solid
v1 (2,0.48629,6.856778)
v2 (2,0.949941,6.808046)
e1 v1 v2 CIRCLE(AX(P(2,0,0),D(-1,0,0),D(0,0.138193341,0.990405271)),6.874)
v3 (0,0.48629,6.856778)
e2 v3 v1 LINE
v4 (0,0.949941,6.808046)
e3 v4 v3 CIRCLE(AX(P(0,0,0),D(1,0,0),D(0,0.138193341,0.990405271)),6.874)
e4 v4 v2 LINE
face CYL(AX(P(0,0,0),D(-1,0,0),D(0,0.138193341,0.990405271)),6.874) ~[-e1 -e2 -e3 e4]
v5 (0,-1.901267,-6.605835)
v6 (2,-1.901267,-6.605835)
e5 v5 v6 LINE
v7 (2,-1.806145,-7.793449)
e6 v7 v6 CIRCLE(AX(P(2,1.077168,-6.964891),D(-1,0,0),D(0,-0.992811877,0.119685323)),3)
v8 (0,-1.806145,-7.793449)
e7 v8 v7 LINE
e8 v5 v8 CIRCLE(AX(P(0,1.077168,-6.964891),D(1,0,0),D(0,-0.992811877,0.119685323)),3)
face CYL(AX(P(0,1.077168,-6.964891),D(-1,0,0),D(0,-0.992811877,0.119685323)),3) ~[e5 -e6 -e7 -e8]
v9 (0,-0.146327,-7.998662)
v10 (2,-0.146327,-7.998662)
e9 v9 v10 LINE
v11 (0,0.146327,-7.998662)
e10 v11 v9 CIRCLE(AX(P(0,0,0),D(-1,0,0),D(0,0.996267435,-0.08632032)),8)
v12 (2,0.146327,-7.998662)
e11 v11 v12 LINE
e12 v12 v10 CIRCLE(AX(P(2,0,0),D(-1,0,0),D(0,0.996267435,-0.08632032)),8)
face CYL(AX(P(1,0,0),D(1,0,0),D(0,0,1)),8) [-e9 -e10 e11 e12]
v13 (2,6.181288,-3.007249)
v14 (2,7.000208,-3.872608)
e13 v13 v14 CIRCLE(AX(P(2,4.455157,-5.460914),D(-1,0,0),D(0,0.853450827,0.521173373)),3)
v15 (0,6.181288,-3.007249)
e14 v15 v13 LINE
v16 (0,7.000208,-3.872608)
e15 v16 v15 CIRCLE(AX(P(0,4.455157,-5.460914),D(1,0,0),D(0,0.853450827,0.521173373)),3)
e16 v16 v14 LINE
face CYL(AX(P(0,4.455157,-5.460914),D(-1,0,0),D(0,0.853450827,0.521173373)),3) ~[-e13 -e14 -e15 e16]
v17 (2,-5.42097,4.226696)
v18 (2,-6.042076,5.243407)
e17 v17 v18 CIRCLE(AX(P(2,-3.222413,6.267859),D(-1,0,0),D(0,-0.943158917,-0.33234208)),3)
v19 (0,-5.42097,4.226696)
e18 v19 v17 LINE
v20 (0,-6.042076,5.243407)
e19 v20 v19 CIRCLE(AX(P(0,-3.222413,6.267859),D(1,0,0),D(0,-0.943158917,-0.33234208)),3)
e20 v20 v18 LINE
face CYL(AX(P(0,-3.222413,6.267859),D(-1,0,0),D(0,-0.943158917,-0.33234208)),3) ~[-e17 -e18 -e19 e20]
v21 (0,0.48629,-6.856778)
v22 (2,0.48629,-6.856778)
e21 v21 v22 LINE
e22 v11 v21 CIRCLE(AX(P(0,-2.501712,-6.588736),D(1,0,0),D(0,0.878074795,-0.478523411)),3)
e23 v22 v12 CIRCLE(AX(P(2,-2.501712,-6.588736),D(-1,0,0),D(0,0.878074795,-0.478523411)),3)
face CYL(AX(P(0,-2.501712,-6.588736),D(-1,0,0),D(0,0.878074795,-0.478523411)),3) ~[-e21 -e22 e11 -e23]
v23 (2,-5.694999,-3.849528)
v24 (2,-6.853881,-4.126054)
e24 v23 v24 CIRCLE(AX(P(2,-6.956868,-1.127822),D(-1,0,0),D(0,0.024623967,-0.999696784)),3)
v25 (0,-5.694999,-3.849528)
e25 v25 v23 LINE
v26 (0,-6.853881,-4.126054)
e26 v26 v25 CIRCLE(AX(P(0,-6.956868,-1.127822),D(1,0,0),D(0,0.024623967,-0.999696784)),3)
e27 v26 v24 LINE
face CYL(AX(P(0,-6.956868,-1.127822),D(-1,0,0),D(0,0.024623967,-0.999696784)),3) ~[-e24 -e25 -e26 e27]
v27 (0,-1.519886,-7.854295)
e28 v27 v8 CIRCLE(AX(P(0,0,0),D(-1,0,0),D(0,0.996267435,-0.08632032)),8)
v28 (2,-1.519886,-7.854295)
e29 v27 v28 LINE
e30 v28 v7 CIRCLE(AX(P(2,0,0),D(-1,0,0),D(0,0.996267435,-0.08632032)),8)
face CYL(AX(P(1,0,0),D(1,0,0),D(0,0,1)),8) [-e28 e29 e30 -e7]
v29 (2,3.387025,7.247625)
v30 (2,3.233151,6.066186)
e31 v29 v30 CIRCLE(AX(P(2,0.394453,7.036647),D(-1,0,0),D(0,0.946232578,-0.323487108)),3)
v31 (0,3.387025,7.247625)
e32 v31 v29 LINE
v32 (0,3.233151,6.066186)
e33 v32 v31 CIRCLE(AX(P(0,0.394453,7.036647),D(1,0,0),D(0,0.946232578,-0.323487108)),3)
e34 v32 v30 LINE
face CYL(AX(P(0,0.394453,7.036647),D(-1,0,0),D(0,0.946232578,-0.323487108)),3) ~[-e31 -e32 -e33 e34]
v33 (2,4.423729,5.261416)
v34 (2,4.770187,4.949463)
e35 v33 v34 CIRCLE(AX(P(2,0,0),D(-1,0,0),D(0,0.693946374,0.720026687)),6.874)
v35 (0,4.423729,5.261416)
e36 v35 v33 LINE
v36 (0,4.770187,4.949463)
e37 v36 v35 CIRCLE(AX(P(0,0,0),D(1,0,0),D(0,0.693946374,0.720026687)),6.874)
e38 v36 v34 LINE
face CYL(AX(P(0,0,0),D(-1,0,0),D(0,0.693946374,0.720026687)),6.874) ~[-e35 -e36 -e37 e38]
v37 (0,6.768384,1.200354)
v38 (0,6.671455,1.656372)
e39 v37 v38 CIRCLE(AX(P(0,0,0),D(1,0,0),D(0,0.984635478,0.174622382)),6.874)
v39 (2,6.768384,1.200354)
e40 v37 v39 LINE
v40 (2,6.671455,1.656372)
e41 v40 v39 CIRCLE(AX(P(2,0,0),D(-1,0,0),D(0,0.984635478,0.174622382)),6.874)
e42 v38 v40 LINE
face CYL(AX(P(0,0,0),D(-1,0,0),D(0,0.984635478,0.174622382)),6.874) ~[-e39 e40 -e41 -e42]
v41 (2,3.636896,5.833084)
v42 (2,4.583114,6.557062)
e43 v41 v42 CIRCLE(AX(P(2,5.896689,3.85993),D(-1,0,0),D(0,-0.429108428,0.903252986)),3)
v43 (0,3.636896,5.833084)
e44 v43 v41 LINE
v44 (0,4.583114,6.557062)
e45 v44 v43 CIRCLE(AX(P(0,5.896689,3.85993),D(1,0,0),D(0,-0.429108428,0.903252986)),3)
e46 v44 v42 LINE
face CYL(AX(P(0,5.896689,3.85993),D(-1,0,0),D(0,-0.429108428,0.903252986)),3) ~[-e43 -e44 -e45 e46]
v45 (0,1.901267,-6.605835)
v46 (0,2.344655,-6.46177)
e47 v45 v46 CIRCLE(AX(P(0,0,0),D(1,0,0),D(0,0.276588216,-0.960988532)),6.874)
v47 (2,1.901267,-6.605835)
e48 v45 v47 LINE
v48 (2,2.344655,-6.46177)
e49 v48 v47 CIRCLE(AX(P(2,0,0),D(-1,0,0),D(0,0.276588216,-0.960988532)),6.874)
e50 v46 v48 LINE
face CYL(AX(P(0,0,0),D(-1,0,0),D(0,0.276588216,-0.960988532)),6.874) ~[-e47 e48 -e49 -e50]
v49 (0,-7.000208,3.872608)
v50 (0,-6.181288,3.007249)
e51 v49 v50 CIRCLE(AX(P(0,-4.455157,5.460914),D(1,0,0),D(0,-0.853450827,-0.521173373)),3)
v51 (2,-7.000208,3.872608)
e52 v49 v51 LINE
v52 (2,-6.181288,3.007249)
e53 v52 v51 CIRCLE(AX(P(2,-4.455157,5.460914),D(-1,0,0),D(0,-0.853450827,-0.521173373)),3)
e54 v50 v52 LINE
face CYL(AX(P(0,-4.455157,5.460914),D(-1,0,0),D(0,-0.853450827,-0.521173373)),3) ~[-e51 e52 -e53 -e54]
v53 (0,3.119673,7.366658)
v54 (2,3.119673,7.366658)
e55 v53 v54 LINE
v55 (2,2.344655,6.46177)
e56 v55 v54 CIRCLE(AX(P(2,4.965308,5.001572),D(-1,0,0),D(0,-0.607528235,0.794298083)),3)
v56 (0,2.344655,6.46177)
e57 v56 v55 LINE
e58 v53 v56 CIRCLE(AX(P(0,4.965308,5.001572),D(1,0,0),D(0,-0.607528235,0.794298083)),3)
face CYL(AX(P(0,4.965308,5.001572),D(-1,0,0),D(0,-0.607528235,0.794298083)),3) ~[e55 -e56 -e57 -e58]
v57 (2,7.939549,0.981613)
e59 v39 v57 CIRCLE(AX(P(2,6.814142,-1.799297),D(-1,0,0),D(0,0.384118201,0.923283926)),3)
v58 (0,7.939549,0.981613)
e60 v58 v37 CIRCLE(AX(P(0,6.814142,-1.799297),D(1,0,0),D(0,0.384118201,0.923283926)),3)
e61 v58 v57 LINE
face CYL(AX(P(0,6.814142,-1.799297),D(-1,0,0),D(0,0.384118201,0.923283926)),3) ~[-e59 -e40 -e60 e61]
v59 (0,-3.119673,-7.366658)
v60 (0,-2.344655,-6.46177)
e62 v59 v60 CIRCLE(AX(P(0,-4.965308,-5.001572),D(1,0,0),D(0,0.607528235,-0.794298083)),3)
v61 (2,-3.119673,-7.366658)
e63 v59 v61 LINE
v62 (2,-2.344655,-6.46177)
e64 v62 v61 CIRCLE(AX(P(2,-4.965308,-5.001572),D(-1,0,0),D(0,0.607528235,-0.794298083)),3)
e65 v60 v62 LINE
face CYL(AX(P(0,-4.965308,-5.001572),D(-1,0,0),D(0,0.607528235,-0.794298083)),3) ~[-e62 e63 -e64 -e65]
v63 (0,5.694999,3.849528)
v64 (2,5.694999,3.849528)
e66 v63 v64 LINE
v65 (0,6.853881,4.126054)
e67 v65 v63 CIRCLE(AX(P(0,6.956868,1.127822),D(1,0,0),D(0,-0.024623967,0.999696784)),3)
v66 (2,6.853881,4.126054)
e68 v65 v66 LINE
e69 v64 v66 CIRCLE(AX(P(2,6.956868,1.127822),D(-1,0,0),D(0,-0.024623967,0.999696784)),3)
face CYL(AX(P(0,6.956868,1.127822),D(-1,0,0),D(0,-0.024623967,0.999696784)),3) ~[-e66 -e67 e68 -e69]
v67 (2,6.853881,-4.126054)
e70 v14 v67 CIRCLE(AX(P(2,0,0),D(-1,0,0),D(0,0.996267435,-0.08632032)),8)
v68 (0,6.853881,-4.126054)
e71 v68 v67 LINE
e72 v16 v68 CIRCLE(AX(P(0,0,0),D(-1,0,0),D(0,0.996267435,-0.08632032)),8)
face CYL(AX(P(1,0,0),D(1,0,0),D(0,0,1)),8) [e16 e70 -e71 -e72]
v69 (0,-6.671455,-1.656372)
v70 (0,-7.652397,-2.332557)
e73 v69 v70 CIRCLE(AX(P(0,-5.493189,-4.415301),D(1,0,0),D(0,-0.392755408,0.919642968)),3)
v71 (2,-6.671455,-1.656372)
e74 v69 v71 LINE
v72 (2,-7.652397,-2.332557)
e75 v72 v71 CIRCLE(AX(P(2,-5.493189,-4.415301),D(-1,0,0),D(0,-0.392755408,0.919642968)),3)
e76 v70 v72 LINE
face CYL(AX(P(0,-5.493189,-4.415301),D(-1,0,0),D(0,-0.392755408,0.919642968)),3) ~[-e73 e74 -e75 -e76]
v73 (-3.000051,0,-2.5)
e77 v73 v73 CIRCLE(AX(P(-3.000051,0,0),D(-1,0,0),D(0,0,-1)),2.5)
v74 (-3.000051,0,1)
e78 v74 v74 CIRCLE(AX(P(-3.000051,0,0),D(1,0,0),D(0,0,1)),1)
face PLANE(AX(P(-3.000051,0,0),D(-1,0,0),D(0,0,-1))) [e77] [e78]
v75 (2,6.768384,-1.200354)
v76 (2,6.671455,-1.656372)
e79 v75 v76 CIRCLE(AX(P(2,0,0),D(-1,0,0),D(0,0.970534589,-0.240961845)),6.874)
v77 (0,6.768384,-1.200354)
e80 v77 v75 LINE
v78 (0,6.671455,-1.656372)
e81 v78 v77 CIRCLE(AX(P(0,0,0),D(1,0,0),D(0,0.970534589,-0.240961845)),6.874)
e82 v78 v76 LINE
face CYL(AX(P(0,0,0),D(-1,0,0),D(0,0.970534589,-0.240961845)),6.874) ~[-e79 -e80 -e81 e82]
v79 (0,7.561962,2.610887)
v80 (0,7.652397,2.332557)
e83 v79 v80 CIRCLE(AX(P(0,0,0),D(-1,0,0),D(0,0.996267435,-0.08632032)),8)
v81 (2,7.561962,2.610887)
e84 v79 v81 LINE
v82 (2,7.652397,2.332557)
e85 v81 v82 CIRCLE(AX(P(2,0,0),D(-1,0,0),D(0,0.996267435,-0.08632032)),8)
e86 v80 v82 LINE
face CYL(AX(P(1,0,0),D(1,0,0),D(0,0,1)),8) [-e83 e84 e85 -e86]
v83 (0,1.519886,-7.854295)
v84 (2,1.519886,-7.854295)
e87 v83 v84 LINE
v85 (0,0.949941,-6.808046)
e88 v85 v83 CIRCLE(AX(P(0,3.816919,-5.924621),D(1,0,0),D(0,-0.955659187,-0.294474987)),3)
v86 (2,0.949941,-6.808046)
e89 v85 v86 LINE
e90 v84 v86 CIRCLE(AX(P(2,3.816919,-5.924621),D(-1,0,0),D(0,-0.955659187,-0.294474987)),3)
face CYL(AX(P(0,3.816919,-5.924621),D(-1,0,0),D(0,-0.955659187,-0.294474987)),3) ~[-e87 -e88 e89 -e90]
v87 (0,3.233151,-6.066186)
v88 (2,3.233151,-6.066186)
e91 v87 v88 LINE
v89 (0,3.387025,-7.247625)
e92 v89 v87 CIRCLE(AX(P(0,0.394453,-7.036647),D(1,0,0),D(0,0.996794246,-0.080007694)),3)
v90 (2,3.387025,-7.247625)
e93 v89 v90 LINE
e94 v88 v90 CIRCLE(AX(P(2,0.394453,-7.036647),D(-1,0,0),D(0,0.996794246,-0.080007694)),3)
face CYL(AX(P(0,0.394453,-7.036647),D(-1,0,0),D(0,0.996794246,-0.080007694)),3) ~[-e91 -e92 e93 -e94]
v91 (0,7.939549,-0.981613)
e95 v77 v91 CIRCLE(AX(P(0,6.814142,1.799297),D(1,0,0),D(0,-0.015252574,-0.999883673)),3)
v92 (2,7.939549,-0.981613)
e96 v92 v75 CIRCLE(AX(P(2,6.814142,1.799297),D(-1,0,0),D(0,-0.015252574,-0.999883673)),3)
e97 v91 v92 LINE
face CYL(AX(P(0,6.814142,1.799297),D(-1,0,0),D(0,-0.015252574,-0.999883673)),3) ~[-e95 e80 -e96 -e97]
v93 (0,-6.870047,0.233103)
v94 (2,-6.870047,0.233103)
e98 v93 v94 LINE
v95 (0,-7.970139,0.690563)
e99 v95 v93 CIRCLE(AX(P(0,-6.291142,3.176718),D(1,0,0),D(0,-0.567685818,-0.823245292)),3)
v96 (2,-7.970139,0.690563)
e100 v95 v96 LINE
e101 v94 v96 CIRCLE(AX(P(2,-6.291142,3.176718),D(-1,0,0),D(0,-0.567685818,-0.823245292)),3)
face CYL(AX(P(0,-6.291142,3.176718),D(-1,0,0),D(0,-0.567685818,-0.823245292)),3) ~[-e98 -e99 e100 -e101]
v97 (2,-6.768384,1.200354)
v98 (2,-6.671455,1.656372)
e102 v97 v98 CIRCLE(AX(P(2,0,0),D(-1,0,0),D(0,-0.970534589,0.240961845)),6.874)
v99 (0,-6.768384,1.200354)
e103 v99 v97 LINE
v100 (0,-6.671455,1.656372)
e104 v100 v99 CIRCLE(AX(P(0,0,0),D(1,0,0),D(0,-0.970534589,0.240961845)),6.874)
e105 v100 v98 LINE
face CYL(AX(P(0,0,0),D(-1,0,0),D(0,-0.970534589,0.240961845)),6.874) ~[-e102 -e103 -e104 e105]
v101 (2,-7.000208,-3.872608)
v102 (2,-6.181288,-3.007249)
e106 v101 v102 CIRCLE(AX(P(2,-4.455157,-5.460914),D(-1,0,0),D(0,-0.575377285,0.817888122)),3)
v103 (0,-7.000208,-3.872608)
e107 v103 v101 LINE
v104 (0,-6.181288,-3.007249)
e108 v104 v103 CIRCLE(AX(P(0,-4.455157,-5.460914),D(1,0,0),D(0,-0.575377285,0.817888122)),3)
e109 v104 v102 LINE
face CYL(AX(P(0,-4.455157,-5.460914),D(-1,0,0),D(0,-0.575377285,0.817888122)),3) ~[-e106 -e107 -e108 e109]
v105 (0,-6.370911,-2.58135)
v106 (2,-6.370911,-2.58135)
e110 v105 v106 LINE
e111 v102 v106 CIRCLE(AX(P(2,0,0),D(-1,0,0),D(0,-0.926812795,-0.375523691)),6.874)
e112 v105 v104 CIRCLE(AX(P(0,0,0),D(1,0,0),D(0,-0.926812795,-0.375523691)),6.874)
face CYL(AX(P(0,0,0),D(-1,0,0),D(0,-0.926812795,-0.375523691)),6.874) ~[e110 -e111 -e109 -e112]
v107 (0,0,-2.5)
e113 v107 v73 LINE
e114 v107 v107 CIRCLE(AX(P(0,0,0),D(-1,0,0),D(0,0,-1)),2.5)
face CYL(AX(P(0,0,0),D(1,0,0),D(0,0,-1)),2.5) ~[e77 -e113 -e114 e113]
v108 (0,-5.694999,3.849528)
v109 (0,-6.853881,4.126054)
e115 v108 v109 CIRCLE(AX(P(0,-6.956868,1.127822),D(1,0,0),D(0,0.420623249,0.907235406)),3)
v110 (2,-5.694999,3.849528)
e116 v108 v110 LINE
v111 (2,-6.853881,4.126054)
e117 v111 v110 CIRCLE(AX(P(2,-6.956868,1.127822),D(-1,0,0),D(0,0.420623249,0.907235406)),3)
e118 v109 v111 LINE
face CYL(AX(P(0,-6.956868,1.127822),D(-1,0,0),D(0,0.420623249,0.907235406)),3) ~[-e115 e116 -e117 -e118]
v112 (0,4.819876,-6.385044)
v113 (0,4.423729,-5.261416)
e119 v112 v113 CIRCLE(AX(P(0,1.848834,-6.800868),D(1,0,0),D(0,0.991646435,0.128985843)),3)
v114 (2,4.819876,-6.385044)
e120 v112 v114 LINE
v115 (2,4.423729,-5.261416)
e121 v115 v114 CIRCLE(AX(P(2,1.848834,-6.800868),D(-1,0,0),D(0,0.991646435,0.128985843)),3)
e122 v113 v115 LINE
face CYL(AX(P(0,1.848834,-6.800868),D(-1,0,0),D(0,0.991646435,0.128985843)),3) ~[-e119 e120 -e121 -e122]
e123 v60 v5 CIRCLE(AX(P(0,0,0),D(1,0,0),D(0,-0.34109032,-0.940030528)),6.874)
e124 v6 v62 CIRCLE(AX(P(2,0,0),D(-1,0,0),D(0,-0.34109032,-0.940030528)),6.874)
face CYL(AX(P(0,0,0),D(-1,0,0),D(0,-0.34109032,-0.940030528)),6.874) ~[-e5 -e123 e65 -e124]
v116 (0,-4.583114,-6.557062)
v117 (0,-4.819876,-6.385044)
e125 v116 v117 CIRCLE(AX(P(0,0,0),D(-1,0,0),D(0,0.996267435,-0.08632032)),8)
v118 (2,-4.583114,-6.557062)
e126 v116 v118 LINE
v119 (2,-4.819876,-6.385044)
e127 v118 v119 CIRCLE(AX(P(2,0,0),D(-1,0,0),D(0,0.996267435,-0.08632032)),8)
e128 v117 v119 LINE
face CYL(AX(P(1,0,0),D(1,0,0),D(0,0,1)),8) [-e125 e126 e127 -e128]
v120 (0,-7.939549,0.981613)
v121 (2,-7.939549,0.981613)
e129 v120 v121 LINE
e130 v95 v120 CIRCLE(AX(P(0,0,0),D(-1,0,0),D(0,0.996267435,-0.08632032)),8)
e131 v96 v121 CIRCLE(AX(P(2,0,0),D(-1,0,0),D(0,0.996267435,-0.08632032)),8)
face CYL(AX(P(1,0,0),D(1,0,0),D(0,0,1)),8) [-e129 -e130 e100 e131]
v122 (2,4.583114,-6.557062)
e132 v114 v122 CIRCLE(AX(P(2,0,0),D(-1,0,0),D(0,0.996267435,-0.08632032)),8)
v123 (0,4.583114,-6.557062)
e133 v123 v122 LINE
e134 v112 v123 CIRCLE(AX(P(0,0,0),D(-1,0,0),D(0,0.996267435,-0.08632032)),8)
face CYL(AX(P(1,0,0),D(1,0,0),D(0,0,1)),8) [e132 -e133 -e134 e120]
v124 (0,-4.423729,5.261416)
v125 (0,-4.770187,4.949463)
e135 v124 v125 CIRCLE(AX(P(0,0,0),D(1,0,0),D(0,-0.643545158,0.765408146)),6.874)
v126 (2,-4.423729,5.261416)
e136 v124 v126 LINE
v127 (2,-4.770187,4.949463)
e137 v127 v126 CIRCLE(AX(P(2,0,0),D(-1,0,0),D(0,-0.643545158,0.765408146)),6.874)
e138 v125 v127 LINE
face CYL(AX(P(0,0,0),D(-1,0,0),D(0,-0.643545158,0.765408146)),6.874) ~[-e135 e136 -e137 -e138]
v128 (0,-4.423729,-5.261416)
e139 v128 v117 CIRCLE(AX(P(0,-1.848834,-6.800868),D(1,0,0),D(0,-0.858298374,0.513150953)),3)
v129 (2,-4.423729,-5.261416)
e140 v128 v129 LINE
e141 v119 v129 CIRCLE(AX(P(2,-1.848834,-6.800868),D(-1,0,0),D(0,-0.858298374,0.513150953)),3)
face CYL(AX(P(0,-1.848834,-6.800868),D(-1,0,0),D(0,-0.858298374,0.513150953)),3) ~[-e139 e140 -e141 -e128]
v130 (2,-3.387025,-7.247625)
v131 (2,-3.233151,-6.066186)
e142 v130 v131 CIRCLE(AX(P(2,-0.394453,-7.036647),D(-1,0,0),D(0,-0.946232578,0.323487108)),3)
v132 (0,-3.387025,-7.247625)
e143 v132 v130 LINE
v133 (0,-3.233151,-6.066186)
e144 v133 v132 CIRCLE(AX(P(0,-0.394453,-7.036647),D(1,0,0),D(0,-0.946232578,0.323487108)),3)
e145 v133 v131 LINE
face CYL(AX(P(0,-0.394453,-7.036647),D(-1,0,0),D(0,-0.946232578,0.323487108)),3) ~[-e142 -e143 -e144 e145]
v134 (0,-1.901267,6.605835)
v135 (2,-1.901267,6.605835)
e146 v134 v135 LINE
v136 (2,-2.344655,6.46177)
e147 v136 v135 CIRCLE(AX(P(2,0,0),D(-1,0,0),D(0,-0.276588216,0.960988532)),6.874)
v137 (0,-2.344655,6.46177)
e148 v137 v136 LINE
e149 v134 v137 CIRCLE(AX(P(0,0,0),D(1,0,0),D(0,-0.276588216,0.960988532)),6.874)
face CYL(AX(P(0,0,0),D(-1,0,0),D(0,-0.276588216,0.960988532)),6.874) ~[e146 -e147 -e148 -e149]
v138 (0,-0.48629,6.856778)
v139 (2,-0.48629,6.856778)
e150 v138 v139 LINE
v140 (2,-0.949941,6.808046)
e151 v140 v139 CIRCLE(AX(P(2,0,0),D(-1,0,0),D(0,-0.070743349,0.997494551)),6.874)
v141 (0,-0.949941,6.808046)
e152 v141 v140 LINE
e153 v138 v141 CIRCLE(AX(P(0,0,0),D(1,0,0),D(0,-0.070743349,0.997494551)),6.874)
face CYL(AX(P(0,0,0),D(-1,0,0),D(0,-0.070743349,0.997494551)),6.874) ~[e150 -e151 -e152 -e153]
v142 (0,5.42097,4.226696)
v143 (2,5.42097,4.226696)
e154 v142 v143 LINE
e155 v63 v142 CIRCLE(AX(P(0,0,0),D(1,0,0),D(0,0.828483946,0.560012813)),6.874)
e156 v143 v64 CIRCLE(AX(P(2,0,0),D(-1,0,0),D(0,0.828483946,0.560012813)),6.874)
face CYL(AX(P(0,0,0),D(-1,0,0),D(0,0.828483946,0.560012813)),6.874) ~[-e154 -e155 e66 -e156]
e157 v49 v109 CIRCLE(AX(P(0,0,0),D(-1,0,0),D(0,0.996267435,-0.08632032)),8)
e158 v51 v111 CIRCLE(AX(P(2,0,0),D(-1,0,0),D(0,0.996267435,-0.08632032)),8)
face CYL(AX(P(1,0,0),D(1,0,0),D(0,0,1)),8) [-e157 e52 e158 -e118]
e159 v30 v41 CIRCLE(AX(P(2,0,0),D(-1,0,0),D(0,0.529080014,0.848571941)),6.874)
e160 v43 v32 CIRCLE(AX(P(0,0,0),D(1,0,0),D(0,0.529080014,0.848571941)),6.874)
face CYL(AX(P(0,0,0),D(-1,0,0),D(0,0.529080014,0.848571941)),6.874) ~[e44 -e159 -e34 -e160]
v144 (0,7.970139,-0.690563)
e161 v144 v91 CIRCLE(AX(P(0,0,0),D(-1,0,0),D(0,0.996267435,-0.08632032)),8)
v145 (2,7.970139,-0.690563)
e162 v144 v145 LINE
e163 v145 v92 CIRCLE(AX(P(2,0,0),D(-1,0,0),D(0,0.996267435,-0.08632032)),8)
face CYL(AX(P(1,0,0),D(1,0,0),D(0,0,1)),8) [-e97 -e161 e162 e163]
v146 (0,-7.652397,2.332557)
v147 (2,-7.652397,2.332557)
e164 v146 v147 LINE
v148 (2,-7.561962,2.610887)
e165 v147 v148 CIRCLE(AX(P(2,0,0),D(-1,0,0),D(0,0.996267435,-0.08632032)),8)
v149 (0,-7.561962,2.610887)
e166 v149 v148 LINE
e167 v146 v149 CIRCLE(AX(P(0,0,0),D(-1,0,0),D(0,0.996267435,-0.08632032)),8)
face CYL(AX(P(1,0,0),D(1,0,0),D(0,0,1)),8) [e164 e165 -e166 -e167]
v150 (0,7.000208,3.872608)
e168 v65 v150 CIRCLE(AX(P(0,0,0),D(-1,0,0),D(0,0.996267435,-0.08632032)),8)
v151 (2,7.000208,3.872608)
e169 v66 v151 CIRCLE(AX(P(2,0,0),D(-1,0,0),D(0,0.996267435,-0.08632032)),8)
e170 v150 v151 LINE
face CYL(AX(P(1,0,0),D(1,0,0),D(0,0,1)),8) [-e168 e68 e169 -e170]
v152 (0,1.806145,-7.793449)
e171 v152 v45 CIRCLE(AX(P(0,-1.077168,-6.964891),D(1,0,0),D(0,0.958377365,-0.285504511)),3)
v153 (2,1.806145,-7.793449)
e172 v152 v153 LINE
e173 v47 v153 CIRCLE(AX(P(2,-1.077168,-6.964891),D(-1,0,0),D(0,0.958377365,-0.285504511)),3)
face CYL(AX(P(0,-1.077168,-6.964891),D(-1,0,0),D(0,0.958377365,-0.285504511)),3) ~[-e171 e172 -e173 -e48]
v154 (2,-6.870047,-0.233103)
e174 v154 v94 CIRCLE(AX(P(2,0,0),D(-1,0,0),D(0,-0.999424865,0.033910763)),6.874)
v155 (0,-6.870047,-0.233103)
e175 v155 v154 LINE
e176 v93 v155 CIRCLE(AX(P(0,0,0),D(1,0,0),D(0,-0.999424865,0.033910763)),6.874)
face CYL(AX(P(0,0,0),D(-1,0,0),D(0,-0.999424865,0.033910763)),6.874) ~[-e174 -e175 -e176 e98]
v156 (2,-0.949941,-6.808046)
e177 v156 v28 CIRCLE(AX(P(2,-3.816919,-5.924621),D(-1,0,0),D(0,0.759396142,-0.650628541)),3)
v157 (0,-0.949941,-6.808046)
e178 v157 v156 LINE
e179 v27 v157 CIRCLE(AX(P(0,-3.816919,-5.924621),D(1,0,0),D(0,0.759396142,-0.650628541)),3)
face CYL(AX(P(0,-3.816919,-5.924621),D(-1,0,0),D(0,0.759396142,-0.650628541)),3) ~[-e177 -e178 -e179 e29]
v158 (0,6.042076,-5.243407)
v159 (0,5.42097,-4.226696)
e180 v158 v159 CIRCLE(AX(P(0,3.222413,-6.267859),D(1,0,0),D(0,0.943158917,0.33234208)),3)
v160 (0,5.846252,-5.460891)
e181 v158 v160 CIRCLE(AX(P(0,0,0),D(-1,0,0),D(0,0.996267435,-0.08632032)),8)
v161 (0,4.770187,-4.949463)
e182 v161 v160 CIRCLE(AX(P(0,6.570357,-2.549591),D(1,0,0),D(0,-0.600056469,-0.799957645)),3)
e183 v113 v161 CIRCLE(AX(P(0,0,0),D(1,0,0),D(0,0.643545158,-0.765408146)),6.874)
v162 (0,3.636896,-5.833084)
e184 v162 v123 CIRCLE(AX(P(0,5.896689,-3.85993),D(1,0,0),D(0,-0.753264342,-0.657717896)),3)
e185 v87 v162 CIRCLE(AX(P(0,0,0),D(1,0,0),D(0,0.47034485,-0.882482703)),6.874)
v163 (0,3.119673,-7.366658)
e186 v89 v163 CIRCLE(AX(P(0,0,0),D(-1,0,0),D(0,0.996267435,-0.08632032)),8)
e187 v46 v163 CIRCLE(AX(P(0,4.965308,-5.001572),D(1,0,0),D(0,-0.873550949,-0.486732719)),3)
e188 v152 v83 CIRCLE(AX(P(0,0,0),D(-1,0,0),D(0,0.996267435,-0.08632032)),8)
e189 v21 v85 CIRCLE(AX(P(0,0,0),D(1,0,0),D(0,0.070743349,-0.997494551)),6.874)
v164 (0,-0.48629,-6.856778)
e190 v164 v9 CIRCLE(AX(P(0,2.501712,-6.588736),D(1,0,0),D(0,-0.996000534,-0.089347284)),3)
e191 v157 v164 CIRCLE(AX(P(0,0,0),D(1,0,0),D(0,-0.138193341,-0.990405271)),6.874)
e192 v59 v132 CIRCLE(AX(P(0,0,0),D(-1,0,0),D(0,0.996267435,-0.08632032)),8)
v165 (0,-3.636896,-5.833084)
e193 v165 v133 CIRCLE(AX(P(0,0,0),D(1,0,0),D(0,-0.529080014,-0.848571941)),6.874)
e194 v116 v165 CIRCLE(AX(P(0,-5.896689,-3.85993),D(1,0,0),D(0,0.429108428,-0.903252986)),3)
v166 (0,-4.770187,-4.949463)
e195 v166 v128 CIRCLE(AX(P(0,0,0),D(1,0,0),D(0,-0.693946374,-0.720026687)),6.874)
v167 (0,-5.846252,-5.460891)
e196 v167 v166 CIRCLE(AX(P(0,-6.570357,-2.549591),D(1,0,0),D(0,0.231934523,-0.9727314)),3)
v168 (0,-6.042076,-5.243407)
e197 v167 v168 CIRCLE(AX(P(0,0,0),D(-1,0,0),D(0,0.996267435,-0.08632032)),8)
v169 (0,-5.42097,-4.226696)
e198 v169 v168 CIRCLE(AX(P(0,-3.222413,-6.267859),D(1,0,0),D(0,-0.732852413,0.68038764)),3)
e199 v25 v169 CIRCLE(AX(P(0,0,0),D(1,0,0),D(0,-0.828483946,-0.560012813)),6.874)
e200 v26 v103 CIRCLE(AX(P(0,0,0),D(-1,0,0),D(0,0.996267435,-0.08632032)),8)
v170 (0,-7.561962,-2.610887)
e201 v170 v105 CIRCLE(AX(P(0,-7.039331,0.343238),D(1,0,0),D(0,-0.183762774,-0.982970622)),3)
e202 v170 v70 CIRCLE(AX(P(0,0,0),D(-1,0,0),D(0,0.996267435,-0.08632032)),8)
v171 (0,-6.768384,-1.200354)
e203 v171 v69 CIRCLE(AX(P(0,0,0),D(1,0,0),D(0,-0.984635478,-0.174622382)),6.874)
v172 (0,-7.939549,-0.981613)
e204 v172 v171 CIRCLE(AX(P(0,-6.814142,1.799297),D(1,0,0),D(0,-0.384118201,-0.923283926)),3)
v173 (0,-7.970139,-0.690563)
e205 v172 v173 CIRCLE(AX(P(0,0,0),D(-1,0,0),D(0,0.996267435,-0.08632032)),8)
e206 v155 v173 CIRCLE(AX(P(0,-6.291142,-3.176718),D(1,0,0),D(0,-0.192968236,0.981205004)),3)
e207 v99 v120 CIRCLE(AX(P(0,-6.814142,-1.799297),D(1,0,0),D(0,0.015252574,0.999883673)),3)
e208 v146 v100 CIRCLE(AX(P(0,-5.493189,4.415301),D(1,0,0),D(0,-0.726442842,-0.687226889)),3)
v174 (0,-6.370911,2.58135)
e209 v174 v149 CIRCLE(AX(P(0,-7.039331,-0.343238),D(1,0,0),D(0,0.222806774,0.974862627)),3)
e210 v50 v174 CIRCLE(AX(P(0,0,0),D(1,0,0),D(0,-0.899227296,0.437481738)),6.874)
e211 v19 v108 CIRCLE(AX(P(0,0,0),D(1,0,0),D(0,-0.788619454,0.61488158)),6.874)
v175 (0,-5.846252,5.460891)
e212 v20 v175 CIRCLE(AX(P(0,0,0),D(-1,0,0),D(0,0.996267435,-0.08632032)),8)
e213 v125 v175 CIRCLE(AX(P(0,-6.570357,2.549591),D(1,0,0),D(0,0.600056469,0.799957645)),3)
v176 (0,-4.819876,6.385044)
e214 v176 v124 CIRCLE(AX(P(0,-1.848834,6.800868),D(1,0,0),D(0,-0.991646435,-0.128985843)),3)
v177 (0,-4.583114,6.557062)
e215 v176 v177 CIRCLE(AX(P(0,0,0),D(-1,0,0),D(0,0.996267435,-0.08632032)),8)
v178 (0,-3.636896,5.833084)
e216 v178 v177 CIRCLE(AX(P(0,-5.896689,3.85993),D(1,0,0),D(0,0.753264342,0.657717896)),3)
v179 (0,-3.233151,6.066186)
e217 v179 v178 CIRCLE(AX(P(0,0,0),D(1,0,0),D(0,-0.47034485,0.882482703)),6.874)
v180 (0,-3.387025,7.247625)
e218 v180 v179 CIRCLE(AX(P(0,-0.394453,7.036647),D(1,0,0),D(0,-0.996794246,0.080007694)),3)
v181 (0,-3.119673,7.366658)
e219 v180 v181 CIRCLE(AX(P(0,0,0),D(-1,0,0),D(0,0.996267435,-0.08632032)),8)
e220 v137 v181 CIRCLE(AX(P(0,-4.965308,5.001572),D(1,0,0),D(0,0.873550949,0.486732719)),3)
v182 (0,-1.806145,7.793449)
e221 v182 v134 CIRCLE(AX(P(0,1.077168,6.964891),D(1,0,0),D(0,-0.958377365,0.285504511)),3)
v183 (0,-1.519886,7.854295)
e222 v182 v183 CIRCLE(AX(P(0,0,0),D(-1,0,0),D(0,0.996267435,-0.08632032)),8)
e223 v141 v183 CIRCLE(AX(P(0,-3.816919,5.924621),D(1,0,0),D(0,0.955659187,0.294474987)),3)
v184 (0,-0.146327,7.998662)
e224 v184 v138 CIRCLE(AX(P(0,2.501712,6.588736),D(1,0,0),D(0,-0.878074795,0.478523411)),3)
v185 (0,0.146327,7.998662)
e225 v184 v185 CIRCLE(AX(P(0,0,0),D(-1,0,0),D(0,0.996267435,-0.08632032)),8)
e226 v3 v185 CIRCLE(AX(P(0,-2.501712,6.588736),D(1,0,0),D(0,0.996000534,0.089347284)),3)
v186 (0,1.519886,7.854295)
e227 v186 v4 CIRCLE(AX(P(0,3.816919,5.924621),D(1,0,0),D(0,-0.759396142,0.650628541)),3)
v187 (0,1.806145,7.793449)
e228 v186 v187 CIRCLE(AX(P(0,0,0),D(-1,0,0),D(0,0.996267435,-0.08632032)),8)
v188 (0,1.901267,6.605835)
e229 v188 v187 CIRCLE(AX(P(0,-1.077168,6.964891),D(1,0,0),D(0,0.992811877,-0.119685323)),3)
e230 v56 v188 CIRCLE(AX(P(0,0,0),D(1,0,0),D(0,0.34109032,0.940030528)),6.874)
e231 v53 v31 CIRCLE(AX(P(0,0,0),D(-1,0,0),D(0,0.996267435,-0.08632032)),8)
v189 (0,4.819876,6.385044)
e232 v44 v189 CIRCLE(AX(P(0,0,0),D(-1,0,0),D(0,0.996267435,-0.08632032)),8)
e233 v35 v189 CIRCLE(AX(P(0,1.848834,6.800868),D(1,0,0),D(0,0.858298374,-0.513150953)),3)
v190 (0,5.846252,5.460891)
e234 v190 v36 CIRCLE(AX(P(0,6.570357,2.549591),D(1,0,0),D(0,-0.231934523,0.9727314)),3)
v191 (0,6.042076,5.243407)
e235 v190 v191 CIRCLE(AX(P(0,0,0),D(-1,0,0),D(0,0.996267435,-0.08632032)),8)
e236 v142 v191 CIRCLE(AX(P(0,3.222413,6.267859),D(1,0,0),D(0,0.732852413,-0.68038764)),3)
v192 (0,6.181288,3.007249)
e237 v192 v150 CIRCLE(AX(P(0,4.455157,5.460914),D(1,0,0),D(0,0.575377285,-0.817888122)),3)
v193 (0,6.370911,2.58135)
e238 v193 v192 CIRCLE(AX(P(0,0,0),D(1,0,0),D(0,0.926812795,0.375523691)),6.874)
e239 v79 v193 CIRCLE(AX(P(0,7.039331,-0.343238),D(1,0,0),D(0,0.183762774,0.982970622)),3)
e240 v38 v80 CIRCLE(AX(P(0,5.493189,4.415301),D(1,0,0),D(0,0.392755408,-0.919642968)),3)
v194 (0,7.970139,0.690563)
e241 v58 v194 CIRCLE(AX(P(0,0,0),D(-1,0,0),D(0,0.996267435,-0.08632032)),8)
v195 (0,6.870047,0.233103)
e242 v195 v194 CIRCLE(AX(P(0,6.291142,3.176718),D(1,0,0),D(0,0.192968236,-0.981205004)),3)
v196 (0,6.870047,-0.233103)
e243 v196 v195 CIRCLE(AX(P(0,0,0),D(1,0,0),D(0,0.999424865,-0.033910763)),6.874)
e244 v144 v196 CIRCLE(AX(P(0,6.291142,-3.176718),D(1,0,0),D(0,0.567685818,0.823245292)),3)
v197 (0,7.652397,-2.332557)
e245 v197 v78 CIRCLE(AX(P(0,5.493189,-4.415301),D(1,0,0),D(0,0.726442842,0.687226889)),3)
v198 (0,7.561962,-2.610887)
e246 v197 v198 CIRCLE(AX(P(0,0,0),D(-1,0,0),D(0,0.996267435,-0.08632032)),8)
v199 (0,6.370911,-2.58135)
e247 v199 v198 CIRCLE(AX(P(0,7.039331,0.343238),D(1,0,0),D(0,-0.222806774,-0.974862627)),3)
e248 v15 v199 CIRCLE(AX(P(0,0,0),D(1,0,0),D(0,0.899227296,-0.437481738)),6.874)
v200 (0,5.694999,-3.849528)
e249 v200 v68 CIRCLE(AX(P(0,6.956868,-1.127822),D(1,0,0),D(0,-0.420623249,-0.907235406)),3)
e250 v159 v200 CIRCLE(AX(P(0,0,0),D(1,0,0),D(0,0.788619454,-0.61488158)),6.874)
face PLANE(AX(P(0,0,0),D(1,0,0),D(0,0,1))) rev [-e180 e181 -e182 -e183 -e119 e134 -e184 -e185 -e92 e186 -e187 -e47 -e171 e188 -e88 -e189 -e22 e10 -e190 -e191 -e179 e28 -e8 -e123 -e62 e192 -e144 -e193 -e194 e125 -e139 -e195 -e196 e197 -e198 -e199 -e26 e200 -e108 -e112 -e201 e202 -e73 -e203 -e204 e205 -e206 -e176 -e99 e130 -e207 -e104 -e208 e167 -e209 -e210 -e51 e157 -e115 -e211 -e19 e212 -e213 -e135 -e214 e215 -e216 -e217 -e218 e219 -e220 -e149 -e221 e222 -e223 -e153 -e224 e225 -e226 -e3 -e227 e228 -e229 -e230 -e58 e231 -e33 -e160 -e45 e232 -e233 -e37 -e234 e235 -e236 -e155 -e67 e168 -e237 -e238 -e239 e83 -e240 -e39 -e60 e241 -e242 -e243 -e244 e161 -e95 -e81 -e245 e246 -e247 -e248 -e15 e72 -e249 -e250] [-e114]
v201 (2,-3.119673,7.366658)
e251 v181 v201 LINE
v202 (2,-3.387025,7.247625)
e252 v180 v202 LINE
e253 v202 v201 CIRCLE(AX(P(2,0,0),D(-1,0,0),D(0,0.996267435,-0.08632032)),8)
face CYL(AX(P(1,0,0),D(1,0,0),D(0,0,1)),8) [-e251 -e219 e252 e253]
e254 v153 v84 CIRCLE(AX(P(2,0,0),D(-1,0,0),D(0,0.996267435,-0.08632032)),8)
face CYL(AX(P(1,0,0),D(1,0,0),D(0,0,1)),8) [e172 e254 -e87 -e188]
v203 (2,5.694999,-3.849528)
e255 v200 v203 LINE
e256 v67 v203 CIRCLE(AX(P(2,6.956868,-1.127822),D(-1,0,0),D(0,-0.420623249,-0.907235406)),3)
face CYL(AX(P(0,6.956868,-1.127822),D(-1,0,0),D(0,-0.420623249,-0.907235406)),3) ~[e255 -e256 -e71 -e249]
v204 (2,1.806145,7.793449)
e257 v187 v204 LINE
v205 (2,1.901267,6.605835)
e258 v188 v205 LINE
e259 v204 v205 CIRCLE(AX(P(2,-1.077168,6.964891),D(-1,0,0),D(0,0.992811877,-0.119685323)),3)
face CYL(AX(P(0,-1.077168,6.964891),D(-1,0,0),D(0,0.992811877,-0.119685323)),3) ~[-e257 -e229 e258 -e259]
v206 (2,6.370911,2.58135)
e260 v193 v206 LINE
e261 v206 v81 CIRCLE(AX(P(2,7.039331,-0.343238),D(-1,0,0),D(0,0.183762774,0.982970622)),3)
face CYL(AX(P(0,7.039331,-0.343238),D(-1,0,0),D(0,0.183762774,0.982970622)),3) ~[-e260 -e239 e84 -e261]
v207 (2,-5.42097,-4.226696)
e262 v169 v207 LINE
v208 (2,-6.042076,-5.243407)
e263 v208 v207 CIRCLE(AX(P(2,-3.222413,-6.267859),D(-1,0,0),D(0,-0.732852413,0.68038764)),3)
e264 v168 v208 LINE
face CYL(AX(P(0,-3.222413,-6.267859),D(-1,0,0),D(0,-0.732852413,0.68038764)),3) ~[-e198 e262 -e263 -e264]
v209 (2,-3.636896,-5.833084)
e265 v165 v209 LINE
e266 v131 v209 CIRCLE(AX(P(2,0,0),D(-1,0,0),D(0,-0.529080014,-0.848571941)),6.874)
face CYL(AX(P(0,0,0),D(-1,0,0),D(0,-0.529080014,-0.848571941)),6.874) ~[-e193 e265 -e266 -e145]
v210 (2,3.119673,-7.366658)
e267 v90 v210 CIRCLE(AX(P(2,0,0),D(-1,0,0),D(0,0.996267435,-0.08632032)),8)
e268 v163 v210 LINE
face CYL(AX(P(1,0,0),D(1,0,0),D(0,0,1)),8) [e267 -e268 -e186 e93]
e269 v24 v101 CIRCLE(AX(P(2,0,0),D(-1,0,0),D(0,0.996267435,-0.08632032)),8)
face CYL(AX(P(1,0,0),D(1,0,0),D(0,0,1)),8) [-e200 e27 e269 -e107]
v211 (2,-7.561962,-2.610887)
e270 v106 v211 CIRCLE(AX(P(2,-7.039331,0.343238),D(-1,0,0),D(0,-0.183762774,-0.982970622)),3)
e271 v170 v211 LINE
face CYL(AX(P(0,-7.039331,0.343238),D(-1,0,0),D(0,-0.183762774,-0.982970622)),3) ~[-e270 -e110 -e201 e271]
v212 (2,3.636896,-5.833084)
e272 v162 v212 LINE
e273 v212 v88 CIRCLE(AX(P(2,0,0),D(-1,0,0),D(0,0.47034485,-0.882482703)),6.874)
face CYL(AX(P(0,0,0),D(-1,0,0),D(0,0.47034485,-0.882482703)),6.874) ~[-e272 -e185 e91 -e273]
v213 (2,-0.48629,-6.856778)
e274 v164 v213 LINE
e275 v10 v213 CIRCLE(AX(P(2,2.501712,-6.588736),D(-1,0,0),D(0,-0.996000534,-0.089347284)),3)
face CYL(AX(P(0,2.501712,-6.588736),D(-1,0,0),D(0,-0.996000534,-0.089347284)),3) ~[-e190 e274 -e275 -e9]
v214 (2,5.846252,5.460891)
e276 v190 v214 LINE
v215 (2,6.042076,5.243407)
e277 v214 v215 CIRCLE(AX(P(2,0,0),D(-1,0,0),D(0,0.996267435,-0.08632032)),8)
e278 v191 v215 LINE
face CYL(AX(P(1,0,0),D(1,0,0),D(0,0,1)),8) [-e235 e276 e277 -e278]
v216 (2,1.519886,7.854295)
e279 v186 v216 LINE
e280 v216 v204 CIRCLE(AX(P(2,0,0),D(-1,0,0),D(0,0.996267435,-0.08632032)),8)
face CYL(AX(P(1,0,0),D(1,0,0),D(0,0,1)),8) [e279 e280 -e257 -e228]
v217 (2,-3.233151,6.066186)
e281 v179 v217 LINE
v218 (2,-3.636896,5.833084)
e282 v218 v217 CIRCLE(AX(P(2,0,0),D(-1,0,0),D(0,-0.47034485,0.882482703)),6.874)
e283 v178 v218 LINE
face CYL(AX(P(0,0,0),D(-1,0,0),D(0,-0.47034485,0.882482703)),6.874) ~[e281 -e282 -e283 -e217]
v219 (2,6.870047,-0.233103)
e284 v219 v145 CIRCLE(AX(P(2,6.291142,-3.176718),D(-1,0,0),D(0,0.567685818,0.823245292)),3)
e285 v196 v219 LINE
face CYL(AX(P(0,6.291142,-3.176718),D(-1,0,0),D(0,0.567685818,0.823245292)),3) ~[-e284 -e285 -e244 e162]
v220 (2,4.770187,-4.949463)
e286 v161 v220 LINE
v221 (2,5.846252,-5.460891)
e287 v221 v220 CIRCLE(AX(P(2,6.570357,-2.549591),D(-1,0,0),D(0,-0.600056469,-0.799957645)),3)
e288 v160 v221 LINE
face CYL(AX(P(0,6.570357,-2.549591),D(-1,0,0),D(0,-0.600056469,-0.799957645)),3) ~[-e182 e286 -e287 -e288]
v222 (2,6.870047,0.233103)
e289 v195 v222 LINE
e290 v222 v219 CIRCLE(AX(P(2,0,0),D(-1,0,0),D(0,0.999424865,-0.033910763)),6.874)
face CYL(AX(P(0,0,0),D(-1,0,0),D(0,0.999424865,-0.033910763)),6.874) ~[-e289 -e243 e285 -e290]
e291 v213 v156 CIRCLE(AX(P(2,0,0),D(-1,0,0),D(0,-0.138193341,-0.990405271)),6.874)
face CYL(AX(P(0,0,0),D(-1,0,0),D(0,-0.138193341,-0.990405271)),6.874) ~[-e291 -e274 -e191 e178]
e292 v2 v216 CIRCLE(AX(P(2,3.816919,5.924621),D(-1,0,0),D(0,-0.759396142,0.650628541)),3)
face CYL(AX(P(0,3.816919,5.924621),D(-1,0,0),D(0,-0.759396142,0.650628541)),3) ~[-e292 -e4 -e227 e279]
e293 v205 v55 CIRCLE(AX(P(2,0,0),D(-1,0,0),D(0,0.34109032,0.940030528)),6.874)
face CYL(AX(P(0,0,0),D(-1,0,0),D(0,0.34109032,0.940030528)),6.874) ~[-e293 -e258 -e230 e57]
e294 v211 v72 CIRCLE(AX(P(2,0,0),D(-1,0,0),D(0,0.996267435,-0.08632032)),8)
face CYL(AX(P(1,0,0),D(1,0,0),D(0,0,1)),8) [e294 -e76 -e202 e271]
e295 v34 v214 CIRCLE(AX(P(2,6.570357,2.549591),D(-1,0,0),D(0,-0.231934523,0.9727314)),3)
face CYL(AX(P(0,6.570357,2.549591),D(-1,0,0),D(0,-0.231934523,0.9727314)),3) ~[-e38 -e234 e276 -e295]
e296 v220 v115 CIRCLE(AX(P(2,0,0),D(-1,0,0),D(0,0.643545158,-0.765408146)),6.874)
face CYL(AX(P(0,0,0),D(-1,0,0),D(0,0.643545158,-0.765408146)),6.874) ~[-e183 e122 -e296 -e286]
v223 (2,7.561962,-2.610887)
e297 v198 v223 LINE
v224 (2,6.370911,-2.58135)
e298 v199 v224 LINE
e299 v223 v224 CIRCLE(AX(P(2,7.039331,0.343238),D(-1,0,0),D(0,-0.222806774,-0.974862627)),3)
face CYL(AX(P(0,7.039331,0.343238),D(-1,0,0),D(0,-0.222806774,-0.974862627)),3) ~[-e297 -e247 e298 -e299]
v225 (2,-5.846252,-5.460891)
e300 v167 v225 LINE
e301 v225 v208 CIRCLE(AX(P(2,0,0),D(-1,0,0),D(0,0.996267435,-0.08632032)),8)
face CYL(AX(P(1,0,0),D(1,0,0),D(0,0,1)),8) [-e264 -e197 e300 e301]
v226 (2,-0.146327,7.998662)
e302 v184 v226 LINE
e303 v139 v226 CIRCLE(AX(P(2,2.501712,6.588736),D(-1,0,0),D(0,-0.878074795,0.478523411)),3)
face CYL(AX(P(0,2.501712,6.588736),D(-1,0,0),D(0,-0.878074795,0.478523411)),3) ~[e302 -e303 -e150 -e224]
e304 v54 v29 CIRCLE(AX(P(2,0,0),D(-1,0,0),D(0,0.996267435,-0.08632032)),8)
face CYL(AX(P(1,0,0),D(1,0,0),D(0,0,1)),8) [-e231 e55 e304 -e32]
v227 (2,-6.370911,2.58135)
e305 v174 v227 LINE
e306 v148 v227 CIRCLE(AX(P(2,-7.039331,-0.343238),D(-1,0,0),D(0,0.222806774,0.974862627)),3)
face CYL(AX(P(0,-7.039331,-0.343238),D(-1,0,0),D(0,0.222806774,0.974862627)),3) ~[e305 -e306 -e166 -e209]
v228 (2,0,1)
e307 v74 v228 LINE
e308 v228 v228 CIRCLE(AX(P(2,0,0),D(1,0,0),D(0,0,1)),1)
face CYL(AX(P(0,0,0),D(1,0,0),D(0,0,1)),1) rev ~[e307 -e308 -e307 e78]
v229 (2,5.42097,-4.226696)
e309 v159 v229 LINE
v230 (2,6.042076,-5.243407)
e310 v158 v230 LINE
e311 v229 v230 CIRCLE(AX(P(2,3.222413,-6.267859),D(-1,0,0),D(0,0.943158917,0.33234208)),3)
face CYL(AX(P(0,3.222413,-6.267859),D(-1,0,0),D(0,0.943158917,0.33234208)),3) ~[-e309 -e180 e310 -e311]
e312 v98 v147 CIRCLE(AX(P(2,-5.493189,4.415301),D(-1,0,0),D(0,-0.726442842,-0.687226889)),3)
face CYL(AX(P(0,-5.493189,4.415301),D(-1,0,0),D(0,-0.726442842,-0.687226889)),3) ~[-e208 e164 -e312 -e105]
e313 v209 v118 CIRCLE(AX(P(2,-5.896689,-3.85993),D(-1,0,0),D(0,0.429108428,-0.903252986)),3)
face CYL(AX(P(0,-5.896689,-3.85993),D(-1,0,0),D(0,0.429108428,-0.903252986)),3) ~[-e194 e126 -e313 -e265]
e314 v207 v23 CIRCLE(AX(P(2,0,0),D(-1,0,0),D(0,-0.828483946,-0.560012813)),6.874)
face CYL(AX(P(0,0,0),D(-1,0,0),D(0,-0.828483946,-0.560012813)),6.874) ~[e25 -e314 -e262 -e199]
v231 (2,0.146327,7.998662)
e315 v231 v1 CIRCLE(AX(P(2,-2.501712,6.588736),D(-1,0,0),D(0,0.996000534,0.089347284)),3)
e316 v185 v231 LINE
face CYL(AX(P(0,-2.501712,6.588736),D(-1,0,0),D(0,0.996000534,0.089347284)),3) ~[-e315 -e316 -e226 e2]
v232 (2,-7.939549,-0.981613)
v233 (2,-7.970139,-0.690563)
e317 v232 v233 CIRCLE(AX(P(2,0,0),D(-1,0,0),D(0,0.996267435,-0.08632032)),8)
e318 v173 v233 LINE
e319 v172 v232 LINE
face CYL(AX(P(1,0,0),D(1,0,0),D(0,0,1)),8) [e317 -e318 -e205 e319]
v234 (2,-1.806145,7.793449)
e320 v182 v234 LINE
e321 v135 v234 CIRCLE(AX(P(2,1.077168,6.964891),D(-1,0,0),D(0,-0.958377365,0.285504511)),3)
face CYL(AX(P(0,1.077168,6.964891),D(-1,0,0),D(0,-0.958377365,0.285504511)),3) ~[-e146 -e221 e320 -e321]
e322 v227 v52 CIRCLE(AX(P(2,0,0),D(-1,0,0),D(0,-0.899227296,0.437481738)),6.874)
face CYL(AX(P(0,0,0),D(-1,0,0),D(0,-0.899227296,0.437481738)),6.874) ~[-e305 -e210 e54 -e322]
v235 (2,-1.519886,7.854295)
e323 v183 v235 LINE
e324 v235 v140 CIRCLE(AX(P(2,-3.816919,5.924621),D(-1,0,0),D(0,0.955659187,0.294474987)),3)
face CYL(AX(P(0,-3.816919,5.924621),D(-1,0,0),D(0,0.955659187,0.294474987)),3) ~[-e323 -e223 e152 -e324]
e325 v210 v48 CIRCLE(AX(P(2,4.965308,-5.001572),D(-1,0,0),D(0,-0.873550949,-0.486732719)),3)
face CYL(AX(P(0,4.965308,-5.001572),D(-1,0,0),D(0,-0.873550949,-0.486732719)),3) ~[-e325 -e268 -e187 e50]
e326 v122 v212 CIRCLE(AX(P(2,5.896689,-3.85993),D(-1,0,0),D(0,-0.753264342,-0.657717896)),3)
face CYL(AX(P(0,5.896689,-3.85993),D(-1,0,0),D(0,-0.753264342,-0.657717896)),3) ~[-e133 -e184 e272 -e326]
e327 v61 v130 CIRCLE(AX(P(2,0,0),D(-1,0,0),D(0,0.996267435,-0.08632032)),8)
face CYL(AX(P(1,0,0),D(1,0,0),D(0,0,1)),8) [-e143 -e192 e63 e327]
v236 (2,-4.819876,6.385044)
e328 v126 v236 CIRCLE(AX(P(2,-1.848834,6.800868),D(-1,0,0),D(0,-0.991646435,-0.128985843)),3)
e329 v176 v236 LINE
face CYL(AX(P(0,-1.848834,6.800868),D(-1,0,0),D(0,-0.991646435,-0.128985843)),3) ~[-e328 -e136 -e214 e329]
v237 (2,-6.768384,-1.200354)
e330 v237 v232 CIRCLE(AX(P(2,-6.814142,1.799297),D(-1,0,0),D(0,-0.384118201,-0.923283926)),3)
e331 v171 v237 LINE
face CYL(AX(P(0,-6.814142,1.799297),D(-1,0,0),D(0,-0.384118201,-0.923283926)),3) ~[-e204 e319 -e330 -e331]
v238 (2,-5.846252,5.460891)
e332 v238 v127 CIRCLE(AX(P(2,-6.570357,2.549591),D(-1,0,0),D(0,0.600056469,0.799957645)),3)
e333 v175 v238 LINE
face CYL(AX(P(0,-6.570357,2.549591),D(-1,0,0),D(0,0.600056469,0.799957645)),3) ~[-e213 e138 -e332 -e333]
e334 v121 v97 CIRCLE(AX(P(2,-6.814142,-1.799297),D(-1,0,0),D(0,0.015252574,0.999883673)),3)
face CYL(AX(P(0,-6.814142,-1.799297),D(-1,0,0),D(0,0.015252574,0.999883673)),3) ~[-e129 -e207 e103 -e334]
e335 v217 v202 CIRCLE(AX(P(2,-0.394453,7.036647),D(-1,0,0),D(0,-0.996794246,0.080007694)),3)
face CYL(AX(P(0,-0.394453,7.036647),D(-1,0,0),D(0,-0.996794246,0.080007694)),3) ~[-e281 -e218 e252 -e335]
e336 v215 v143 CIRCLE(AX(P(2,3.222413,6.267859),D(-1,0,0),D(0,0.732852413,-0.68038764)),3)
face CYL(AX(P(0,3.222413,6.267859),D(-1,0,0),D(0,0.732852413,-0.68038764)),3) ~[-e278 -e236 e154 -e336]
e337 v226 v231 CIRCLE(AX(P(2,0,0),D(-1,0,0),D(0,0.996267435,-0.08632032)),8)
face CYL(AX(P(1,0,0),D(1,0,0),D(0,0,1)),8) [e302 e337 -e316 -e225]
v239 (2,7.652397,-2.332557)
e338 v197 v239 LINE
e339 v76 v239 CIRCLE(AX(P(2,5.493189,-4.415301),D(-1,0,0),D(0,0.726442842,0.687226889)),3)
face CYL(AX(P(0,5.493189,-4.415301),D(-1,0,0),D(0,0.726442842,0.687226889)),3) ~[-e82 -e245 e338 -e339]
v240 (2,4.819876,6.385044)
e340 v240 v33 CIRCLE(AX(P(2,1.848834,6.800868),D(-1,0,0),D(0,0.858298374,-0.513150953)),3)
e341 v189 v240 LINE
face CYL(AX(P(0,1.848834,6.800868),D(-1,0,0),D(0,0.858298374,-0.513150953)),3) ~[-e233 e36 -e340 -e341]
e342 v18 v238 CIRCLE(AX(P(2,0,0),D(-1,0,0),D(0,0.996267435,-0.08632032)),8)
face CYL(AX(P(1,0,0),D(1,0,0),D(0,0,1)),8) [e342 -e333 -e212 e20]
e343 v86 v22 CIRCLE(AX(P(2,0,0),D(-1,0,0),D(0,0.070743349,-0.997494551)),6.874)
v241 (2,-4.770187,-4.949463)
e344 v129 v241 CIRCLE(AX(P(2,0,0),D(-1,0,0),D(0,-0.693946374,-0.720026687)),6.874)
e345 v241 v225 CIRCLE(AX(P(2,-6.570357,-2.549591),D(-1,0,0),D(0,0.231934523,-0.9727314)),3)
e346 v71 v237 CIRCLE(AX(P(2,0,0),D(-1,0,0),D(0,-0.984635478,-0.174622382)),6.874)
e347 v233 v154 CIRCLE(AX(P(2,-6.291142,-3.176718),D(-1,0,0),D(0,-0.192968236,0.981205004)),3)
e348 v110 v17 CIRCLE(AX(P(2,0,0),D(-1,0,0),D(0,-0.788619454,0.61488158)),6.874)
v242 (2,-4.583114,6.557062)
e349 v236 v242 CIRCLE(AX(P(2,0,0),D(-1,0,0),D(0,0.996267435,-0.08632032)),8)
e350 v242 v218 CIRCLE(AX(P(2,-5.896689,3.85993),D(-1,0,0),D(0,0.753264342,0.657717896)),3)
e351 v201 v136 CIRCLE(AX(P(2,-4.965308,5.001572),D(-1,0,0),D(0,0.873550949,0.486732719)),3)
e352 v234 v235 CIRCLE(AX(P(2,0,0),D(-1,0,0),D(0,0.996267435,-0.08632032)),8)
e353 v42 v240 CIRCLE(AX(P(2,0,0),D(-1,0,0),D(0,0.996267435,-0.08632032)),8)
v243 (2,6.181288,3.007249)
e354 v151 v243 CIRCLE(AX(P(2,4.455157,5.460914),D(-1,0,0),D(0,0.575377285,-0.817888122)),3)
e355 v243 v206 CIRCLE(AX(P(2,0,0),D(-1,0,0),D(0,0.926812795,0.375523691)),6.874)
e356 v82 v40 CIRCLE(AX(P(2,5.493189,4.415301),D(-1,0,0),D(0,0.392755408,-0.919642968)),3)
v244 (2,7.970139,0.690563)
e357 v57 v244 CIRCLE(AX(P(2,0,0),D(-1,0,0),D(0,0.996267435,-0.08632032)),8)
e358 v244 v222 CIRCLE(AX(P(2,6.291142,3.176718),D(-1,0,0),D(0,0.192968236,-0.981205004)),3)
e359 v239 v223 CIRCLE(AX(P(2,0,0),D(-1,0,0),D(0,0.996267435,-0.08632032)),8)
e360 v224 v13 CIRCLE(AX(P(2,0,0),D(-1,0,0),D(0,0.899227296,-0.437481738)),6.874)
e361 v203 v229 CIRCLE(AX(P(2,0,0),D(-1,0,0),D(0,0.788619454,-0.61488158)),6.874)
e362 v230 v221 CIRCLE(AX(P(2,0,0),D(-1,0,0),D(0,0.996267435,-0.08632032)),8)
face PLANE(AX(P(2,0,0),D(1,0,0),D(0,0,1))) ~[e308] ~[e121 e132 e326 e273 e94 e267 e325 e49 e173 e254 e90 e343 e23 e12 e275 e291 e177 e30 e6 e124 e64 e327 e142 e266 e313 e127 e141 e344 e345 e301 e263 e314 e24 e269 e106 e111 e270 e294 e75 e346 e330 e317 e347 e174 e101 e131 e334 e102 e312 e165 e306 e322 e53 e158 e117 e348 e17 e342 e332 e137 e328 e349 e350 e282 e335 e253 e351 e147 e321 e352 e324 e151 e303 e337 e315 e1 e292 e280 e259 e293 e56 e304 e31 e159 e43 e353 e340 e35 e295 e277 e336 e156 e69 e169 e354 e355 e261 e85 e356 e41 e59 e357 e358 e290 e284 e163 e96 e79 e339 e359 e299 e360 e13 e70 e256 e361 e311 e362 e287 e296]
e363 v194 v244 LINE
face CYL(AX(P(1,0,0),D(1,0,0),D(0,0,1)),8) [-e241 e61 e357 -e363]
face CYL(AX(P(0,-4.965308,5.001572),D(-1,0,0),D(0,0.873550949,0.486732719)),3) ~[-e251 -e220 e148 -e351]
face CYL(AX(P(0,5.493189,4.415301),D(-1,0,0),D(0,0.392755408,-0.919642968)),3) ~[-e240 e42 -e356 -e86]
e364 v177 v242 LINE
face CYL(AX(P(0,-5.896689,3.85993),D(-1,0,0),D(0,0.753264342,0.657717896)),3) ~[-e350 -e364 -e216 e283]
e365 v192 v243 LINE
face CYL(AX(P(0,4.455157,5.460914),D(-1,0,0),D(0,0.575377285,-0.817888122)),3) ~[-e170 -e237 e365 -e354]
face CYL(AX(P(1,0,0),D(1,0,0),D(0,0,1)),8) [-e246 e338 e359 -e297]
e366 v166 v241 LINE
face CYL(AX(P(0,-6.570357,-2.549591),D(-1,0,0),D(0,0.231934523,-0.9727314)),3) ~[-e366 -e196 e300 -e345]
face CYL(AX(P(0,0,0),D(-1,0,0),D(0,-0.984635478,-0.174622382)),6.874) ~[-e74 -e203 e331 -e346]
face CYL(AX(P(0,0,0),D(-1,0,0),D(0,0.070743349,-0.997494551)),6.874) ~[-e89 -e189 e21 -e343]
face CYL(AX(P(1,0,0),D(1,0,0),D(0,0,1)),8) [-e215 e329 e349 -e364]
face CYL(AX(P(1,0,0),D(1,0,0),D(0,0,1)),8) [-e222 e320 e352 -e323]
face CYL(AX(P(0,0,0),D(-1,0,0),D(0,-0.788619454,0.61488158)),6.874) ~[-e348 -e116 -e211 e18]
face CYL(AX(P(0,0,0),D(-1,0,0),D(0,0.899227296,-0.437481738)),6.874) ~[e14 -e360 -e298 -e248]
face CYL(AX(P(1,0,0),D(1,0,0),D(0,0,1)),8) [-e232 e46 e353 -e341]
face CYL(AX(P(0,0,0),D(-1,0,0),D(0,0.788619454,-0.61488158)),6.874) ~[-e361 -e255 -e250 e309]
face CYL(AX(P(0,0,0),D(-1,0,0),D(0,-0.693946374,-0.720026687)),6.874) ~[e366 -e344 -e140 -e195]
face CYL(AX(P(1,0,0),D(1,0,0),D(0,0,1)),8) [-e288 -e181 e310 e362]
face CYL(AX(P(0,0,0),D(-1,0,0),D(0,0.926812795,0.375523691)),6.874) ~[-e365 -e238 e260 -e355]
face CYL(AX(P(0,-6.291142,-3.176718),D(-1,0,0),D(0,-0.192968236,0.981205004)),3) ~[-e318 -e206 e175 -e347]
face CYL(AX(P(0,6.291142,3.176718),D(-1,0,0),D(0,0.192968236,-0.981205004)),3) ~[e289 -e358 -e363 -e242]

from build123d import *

# Parameters (mm, degrees)
BASPROSKE_W      = 2
BASPROSKE_H      = 8
TOOTHCUT_DEPTH   = 12.489125293
TEETHCUTS_COUNT  = 30
TEETHCUTS_ANGLE  = 348
HUBNEAONESKE_R   = 2.5
HUBNEARONE_DEPTH = 3.0000508
BORSKE_R         = 1
BORE_DEPTH       = 5.0000508


with BuildPart() as part:
    # BasProSke → Base-Revolve (revolve)
    with BuildSketch(Plane(origin=(0, 0, 0), x_dir=(1, 0, 0), z_dir=(0, 1, 0)), mode=Mode.PRIVATE) as base_revolve_sk:
        with Locations((1, 4)):
            Rectangle(BASPROSKE_W, BASPROSKE_H)
    revolve(base_revolve_sk.sketch.rotate(Axis((-10, 0, 0), (1, 0, 0)), 180), axis=Axis((-10, 0, 0), (1, 0, 0)))

    # TooCutSke → ToothCut (cut, through all)
    with BuildSketch(Plane(origin=(0, 0, 0), x_dir=(0, 0, -1), z_dir=(1, 0, 0))):
        with BuildLine():
            ThreePointArc((0.233102578, 6.87004652), (0, 6.874), (-0.233102578, 6.87004652))
            ThreePointArc((-0.233102578, 6.87004652), (-0.41229689, 7.456465027), (-0.706981715, 7.994199273))
            ThreePointArc((-0.706981715, 7.994199273), (0, 8.0254), (0.706981715, 7.994199273))
            ThreePointArc((0.706981715, 7.994199273), (0.41229689, 7.456465027), (0.233102578, 6.87004652))
        make_face()
    toothcut = extrude(amount=TOOTHCUT_DEPTH, mode=Mode.SUBTRACT)

    # TeethCuts: ToothCut ×30 about axis
    teethcuts_axis = Axis((-10, 0, 0), (1, 0, 0))
    for i in range(1, TEETHCUTS_COUNT):
        add(toothcut.rotate(teethcuts_axis, i * TEETHCUTS_ANGLE / (TEETHCUTS_COUNT - 1)), mode=Mode.SUBTRACT)

    # HubNeaOneSke → HubNearOne (add)
    with BuildSketch(Plane.ZY):
        with Locations(Location((0, 0, 0), (0, 0, 180))):
            Circle(HUBNEAONESKE_R)
    extrude(amount=HUBNEARONE_DEPTH)

    # BorSke → Bore (cut, symmetric)
    with BuildSketch(Plane(origin=(0, 0, 0), x_dir=(0, 0, -1), z_dir=(1, 0, 0))):
        with Locations(Location((0, 0, 0), (0, 0, 180))):
            Circle(BORSKE_R)
    extrude(amount=BORE_DEPTH, both=True, mode=Mode.SUBTRACT)


solid = part.part
